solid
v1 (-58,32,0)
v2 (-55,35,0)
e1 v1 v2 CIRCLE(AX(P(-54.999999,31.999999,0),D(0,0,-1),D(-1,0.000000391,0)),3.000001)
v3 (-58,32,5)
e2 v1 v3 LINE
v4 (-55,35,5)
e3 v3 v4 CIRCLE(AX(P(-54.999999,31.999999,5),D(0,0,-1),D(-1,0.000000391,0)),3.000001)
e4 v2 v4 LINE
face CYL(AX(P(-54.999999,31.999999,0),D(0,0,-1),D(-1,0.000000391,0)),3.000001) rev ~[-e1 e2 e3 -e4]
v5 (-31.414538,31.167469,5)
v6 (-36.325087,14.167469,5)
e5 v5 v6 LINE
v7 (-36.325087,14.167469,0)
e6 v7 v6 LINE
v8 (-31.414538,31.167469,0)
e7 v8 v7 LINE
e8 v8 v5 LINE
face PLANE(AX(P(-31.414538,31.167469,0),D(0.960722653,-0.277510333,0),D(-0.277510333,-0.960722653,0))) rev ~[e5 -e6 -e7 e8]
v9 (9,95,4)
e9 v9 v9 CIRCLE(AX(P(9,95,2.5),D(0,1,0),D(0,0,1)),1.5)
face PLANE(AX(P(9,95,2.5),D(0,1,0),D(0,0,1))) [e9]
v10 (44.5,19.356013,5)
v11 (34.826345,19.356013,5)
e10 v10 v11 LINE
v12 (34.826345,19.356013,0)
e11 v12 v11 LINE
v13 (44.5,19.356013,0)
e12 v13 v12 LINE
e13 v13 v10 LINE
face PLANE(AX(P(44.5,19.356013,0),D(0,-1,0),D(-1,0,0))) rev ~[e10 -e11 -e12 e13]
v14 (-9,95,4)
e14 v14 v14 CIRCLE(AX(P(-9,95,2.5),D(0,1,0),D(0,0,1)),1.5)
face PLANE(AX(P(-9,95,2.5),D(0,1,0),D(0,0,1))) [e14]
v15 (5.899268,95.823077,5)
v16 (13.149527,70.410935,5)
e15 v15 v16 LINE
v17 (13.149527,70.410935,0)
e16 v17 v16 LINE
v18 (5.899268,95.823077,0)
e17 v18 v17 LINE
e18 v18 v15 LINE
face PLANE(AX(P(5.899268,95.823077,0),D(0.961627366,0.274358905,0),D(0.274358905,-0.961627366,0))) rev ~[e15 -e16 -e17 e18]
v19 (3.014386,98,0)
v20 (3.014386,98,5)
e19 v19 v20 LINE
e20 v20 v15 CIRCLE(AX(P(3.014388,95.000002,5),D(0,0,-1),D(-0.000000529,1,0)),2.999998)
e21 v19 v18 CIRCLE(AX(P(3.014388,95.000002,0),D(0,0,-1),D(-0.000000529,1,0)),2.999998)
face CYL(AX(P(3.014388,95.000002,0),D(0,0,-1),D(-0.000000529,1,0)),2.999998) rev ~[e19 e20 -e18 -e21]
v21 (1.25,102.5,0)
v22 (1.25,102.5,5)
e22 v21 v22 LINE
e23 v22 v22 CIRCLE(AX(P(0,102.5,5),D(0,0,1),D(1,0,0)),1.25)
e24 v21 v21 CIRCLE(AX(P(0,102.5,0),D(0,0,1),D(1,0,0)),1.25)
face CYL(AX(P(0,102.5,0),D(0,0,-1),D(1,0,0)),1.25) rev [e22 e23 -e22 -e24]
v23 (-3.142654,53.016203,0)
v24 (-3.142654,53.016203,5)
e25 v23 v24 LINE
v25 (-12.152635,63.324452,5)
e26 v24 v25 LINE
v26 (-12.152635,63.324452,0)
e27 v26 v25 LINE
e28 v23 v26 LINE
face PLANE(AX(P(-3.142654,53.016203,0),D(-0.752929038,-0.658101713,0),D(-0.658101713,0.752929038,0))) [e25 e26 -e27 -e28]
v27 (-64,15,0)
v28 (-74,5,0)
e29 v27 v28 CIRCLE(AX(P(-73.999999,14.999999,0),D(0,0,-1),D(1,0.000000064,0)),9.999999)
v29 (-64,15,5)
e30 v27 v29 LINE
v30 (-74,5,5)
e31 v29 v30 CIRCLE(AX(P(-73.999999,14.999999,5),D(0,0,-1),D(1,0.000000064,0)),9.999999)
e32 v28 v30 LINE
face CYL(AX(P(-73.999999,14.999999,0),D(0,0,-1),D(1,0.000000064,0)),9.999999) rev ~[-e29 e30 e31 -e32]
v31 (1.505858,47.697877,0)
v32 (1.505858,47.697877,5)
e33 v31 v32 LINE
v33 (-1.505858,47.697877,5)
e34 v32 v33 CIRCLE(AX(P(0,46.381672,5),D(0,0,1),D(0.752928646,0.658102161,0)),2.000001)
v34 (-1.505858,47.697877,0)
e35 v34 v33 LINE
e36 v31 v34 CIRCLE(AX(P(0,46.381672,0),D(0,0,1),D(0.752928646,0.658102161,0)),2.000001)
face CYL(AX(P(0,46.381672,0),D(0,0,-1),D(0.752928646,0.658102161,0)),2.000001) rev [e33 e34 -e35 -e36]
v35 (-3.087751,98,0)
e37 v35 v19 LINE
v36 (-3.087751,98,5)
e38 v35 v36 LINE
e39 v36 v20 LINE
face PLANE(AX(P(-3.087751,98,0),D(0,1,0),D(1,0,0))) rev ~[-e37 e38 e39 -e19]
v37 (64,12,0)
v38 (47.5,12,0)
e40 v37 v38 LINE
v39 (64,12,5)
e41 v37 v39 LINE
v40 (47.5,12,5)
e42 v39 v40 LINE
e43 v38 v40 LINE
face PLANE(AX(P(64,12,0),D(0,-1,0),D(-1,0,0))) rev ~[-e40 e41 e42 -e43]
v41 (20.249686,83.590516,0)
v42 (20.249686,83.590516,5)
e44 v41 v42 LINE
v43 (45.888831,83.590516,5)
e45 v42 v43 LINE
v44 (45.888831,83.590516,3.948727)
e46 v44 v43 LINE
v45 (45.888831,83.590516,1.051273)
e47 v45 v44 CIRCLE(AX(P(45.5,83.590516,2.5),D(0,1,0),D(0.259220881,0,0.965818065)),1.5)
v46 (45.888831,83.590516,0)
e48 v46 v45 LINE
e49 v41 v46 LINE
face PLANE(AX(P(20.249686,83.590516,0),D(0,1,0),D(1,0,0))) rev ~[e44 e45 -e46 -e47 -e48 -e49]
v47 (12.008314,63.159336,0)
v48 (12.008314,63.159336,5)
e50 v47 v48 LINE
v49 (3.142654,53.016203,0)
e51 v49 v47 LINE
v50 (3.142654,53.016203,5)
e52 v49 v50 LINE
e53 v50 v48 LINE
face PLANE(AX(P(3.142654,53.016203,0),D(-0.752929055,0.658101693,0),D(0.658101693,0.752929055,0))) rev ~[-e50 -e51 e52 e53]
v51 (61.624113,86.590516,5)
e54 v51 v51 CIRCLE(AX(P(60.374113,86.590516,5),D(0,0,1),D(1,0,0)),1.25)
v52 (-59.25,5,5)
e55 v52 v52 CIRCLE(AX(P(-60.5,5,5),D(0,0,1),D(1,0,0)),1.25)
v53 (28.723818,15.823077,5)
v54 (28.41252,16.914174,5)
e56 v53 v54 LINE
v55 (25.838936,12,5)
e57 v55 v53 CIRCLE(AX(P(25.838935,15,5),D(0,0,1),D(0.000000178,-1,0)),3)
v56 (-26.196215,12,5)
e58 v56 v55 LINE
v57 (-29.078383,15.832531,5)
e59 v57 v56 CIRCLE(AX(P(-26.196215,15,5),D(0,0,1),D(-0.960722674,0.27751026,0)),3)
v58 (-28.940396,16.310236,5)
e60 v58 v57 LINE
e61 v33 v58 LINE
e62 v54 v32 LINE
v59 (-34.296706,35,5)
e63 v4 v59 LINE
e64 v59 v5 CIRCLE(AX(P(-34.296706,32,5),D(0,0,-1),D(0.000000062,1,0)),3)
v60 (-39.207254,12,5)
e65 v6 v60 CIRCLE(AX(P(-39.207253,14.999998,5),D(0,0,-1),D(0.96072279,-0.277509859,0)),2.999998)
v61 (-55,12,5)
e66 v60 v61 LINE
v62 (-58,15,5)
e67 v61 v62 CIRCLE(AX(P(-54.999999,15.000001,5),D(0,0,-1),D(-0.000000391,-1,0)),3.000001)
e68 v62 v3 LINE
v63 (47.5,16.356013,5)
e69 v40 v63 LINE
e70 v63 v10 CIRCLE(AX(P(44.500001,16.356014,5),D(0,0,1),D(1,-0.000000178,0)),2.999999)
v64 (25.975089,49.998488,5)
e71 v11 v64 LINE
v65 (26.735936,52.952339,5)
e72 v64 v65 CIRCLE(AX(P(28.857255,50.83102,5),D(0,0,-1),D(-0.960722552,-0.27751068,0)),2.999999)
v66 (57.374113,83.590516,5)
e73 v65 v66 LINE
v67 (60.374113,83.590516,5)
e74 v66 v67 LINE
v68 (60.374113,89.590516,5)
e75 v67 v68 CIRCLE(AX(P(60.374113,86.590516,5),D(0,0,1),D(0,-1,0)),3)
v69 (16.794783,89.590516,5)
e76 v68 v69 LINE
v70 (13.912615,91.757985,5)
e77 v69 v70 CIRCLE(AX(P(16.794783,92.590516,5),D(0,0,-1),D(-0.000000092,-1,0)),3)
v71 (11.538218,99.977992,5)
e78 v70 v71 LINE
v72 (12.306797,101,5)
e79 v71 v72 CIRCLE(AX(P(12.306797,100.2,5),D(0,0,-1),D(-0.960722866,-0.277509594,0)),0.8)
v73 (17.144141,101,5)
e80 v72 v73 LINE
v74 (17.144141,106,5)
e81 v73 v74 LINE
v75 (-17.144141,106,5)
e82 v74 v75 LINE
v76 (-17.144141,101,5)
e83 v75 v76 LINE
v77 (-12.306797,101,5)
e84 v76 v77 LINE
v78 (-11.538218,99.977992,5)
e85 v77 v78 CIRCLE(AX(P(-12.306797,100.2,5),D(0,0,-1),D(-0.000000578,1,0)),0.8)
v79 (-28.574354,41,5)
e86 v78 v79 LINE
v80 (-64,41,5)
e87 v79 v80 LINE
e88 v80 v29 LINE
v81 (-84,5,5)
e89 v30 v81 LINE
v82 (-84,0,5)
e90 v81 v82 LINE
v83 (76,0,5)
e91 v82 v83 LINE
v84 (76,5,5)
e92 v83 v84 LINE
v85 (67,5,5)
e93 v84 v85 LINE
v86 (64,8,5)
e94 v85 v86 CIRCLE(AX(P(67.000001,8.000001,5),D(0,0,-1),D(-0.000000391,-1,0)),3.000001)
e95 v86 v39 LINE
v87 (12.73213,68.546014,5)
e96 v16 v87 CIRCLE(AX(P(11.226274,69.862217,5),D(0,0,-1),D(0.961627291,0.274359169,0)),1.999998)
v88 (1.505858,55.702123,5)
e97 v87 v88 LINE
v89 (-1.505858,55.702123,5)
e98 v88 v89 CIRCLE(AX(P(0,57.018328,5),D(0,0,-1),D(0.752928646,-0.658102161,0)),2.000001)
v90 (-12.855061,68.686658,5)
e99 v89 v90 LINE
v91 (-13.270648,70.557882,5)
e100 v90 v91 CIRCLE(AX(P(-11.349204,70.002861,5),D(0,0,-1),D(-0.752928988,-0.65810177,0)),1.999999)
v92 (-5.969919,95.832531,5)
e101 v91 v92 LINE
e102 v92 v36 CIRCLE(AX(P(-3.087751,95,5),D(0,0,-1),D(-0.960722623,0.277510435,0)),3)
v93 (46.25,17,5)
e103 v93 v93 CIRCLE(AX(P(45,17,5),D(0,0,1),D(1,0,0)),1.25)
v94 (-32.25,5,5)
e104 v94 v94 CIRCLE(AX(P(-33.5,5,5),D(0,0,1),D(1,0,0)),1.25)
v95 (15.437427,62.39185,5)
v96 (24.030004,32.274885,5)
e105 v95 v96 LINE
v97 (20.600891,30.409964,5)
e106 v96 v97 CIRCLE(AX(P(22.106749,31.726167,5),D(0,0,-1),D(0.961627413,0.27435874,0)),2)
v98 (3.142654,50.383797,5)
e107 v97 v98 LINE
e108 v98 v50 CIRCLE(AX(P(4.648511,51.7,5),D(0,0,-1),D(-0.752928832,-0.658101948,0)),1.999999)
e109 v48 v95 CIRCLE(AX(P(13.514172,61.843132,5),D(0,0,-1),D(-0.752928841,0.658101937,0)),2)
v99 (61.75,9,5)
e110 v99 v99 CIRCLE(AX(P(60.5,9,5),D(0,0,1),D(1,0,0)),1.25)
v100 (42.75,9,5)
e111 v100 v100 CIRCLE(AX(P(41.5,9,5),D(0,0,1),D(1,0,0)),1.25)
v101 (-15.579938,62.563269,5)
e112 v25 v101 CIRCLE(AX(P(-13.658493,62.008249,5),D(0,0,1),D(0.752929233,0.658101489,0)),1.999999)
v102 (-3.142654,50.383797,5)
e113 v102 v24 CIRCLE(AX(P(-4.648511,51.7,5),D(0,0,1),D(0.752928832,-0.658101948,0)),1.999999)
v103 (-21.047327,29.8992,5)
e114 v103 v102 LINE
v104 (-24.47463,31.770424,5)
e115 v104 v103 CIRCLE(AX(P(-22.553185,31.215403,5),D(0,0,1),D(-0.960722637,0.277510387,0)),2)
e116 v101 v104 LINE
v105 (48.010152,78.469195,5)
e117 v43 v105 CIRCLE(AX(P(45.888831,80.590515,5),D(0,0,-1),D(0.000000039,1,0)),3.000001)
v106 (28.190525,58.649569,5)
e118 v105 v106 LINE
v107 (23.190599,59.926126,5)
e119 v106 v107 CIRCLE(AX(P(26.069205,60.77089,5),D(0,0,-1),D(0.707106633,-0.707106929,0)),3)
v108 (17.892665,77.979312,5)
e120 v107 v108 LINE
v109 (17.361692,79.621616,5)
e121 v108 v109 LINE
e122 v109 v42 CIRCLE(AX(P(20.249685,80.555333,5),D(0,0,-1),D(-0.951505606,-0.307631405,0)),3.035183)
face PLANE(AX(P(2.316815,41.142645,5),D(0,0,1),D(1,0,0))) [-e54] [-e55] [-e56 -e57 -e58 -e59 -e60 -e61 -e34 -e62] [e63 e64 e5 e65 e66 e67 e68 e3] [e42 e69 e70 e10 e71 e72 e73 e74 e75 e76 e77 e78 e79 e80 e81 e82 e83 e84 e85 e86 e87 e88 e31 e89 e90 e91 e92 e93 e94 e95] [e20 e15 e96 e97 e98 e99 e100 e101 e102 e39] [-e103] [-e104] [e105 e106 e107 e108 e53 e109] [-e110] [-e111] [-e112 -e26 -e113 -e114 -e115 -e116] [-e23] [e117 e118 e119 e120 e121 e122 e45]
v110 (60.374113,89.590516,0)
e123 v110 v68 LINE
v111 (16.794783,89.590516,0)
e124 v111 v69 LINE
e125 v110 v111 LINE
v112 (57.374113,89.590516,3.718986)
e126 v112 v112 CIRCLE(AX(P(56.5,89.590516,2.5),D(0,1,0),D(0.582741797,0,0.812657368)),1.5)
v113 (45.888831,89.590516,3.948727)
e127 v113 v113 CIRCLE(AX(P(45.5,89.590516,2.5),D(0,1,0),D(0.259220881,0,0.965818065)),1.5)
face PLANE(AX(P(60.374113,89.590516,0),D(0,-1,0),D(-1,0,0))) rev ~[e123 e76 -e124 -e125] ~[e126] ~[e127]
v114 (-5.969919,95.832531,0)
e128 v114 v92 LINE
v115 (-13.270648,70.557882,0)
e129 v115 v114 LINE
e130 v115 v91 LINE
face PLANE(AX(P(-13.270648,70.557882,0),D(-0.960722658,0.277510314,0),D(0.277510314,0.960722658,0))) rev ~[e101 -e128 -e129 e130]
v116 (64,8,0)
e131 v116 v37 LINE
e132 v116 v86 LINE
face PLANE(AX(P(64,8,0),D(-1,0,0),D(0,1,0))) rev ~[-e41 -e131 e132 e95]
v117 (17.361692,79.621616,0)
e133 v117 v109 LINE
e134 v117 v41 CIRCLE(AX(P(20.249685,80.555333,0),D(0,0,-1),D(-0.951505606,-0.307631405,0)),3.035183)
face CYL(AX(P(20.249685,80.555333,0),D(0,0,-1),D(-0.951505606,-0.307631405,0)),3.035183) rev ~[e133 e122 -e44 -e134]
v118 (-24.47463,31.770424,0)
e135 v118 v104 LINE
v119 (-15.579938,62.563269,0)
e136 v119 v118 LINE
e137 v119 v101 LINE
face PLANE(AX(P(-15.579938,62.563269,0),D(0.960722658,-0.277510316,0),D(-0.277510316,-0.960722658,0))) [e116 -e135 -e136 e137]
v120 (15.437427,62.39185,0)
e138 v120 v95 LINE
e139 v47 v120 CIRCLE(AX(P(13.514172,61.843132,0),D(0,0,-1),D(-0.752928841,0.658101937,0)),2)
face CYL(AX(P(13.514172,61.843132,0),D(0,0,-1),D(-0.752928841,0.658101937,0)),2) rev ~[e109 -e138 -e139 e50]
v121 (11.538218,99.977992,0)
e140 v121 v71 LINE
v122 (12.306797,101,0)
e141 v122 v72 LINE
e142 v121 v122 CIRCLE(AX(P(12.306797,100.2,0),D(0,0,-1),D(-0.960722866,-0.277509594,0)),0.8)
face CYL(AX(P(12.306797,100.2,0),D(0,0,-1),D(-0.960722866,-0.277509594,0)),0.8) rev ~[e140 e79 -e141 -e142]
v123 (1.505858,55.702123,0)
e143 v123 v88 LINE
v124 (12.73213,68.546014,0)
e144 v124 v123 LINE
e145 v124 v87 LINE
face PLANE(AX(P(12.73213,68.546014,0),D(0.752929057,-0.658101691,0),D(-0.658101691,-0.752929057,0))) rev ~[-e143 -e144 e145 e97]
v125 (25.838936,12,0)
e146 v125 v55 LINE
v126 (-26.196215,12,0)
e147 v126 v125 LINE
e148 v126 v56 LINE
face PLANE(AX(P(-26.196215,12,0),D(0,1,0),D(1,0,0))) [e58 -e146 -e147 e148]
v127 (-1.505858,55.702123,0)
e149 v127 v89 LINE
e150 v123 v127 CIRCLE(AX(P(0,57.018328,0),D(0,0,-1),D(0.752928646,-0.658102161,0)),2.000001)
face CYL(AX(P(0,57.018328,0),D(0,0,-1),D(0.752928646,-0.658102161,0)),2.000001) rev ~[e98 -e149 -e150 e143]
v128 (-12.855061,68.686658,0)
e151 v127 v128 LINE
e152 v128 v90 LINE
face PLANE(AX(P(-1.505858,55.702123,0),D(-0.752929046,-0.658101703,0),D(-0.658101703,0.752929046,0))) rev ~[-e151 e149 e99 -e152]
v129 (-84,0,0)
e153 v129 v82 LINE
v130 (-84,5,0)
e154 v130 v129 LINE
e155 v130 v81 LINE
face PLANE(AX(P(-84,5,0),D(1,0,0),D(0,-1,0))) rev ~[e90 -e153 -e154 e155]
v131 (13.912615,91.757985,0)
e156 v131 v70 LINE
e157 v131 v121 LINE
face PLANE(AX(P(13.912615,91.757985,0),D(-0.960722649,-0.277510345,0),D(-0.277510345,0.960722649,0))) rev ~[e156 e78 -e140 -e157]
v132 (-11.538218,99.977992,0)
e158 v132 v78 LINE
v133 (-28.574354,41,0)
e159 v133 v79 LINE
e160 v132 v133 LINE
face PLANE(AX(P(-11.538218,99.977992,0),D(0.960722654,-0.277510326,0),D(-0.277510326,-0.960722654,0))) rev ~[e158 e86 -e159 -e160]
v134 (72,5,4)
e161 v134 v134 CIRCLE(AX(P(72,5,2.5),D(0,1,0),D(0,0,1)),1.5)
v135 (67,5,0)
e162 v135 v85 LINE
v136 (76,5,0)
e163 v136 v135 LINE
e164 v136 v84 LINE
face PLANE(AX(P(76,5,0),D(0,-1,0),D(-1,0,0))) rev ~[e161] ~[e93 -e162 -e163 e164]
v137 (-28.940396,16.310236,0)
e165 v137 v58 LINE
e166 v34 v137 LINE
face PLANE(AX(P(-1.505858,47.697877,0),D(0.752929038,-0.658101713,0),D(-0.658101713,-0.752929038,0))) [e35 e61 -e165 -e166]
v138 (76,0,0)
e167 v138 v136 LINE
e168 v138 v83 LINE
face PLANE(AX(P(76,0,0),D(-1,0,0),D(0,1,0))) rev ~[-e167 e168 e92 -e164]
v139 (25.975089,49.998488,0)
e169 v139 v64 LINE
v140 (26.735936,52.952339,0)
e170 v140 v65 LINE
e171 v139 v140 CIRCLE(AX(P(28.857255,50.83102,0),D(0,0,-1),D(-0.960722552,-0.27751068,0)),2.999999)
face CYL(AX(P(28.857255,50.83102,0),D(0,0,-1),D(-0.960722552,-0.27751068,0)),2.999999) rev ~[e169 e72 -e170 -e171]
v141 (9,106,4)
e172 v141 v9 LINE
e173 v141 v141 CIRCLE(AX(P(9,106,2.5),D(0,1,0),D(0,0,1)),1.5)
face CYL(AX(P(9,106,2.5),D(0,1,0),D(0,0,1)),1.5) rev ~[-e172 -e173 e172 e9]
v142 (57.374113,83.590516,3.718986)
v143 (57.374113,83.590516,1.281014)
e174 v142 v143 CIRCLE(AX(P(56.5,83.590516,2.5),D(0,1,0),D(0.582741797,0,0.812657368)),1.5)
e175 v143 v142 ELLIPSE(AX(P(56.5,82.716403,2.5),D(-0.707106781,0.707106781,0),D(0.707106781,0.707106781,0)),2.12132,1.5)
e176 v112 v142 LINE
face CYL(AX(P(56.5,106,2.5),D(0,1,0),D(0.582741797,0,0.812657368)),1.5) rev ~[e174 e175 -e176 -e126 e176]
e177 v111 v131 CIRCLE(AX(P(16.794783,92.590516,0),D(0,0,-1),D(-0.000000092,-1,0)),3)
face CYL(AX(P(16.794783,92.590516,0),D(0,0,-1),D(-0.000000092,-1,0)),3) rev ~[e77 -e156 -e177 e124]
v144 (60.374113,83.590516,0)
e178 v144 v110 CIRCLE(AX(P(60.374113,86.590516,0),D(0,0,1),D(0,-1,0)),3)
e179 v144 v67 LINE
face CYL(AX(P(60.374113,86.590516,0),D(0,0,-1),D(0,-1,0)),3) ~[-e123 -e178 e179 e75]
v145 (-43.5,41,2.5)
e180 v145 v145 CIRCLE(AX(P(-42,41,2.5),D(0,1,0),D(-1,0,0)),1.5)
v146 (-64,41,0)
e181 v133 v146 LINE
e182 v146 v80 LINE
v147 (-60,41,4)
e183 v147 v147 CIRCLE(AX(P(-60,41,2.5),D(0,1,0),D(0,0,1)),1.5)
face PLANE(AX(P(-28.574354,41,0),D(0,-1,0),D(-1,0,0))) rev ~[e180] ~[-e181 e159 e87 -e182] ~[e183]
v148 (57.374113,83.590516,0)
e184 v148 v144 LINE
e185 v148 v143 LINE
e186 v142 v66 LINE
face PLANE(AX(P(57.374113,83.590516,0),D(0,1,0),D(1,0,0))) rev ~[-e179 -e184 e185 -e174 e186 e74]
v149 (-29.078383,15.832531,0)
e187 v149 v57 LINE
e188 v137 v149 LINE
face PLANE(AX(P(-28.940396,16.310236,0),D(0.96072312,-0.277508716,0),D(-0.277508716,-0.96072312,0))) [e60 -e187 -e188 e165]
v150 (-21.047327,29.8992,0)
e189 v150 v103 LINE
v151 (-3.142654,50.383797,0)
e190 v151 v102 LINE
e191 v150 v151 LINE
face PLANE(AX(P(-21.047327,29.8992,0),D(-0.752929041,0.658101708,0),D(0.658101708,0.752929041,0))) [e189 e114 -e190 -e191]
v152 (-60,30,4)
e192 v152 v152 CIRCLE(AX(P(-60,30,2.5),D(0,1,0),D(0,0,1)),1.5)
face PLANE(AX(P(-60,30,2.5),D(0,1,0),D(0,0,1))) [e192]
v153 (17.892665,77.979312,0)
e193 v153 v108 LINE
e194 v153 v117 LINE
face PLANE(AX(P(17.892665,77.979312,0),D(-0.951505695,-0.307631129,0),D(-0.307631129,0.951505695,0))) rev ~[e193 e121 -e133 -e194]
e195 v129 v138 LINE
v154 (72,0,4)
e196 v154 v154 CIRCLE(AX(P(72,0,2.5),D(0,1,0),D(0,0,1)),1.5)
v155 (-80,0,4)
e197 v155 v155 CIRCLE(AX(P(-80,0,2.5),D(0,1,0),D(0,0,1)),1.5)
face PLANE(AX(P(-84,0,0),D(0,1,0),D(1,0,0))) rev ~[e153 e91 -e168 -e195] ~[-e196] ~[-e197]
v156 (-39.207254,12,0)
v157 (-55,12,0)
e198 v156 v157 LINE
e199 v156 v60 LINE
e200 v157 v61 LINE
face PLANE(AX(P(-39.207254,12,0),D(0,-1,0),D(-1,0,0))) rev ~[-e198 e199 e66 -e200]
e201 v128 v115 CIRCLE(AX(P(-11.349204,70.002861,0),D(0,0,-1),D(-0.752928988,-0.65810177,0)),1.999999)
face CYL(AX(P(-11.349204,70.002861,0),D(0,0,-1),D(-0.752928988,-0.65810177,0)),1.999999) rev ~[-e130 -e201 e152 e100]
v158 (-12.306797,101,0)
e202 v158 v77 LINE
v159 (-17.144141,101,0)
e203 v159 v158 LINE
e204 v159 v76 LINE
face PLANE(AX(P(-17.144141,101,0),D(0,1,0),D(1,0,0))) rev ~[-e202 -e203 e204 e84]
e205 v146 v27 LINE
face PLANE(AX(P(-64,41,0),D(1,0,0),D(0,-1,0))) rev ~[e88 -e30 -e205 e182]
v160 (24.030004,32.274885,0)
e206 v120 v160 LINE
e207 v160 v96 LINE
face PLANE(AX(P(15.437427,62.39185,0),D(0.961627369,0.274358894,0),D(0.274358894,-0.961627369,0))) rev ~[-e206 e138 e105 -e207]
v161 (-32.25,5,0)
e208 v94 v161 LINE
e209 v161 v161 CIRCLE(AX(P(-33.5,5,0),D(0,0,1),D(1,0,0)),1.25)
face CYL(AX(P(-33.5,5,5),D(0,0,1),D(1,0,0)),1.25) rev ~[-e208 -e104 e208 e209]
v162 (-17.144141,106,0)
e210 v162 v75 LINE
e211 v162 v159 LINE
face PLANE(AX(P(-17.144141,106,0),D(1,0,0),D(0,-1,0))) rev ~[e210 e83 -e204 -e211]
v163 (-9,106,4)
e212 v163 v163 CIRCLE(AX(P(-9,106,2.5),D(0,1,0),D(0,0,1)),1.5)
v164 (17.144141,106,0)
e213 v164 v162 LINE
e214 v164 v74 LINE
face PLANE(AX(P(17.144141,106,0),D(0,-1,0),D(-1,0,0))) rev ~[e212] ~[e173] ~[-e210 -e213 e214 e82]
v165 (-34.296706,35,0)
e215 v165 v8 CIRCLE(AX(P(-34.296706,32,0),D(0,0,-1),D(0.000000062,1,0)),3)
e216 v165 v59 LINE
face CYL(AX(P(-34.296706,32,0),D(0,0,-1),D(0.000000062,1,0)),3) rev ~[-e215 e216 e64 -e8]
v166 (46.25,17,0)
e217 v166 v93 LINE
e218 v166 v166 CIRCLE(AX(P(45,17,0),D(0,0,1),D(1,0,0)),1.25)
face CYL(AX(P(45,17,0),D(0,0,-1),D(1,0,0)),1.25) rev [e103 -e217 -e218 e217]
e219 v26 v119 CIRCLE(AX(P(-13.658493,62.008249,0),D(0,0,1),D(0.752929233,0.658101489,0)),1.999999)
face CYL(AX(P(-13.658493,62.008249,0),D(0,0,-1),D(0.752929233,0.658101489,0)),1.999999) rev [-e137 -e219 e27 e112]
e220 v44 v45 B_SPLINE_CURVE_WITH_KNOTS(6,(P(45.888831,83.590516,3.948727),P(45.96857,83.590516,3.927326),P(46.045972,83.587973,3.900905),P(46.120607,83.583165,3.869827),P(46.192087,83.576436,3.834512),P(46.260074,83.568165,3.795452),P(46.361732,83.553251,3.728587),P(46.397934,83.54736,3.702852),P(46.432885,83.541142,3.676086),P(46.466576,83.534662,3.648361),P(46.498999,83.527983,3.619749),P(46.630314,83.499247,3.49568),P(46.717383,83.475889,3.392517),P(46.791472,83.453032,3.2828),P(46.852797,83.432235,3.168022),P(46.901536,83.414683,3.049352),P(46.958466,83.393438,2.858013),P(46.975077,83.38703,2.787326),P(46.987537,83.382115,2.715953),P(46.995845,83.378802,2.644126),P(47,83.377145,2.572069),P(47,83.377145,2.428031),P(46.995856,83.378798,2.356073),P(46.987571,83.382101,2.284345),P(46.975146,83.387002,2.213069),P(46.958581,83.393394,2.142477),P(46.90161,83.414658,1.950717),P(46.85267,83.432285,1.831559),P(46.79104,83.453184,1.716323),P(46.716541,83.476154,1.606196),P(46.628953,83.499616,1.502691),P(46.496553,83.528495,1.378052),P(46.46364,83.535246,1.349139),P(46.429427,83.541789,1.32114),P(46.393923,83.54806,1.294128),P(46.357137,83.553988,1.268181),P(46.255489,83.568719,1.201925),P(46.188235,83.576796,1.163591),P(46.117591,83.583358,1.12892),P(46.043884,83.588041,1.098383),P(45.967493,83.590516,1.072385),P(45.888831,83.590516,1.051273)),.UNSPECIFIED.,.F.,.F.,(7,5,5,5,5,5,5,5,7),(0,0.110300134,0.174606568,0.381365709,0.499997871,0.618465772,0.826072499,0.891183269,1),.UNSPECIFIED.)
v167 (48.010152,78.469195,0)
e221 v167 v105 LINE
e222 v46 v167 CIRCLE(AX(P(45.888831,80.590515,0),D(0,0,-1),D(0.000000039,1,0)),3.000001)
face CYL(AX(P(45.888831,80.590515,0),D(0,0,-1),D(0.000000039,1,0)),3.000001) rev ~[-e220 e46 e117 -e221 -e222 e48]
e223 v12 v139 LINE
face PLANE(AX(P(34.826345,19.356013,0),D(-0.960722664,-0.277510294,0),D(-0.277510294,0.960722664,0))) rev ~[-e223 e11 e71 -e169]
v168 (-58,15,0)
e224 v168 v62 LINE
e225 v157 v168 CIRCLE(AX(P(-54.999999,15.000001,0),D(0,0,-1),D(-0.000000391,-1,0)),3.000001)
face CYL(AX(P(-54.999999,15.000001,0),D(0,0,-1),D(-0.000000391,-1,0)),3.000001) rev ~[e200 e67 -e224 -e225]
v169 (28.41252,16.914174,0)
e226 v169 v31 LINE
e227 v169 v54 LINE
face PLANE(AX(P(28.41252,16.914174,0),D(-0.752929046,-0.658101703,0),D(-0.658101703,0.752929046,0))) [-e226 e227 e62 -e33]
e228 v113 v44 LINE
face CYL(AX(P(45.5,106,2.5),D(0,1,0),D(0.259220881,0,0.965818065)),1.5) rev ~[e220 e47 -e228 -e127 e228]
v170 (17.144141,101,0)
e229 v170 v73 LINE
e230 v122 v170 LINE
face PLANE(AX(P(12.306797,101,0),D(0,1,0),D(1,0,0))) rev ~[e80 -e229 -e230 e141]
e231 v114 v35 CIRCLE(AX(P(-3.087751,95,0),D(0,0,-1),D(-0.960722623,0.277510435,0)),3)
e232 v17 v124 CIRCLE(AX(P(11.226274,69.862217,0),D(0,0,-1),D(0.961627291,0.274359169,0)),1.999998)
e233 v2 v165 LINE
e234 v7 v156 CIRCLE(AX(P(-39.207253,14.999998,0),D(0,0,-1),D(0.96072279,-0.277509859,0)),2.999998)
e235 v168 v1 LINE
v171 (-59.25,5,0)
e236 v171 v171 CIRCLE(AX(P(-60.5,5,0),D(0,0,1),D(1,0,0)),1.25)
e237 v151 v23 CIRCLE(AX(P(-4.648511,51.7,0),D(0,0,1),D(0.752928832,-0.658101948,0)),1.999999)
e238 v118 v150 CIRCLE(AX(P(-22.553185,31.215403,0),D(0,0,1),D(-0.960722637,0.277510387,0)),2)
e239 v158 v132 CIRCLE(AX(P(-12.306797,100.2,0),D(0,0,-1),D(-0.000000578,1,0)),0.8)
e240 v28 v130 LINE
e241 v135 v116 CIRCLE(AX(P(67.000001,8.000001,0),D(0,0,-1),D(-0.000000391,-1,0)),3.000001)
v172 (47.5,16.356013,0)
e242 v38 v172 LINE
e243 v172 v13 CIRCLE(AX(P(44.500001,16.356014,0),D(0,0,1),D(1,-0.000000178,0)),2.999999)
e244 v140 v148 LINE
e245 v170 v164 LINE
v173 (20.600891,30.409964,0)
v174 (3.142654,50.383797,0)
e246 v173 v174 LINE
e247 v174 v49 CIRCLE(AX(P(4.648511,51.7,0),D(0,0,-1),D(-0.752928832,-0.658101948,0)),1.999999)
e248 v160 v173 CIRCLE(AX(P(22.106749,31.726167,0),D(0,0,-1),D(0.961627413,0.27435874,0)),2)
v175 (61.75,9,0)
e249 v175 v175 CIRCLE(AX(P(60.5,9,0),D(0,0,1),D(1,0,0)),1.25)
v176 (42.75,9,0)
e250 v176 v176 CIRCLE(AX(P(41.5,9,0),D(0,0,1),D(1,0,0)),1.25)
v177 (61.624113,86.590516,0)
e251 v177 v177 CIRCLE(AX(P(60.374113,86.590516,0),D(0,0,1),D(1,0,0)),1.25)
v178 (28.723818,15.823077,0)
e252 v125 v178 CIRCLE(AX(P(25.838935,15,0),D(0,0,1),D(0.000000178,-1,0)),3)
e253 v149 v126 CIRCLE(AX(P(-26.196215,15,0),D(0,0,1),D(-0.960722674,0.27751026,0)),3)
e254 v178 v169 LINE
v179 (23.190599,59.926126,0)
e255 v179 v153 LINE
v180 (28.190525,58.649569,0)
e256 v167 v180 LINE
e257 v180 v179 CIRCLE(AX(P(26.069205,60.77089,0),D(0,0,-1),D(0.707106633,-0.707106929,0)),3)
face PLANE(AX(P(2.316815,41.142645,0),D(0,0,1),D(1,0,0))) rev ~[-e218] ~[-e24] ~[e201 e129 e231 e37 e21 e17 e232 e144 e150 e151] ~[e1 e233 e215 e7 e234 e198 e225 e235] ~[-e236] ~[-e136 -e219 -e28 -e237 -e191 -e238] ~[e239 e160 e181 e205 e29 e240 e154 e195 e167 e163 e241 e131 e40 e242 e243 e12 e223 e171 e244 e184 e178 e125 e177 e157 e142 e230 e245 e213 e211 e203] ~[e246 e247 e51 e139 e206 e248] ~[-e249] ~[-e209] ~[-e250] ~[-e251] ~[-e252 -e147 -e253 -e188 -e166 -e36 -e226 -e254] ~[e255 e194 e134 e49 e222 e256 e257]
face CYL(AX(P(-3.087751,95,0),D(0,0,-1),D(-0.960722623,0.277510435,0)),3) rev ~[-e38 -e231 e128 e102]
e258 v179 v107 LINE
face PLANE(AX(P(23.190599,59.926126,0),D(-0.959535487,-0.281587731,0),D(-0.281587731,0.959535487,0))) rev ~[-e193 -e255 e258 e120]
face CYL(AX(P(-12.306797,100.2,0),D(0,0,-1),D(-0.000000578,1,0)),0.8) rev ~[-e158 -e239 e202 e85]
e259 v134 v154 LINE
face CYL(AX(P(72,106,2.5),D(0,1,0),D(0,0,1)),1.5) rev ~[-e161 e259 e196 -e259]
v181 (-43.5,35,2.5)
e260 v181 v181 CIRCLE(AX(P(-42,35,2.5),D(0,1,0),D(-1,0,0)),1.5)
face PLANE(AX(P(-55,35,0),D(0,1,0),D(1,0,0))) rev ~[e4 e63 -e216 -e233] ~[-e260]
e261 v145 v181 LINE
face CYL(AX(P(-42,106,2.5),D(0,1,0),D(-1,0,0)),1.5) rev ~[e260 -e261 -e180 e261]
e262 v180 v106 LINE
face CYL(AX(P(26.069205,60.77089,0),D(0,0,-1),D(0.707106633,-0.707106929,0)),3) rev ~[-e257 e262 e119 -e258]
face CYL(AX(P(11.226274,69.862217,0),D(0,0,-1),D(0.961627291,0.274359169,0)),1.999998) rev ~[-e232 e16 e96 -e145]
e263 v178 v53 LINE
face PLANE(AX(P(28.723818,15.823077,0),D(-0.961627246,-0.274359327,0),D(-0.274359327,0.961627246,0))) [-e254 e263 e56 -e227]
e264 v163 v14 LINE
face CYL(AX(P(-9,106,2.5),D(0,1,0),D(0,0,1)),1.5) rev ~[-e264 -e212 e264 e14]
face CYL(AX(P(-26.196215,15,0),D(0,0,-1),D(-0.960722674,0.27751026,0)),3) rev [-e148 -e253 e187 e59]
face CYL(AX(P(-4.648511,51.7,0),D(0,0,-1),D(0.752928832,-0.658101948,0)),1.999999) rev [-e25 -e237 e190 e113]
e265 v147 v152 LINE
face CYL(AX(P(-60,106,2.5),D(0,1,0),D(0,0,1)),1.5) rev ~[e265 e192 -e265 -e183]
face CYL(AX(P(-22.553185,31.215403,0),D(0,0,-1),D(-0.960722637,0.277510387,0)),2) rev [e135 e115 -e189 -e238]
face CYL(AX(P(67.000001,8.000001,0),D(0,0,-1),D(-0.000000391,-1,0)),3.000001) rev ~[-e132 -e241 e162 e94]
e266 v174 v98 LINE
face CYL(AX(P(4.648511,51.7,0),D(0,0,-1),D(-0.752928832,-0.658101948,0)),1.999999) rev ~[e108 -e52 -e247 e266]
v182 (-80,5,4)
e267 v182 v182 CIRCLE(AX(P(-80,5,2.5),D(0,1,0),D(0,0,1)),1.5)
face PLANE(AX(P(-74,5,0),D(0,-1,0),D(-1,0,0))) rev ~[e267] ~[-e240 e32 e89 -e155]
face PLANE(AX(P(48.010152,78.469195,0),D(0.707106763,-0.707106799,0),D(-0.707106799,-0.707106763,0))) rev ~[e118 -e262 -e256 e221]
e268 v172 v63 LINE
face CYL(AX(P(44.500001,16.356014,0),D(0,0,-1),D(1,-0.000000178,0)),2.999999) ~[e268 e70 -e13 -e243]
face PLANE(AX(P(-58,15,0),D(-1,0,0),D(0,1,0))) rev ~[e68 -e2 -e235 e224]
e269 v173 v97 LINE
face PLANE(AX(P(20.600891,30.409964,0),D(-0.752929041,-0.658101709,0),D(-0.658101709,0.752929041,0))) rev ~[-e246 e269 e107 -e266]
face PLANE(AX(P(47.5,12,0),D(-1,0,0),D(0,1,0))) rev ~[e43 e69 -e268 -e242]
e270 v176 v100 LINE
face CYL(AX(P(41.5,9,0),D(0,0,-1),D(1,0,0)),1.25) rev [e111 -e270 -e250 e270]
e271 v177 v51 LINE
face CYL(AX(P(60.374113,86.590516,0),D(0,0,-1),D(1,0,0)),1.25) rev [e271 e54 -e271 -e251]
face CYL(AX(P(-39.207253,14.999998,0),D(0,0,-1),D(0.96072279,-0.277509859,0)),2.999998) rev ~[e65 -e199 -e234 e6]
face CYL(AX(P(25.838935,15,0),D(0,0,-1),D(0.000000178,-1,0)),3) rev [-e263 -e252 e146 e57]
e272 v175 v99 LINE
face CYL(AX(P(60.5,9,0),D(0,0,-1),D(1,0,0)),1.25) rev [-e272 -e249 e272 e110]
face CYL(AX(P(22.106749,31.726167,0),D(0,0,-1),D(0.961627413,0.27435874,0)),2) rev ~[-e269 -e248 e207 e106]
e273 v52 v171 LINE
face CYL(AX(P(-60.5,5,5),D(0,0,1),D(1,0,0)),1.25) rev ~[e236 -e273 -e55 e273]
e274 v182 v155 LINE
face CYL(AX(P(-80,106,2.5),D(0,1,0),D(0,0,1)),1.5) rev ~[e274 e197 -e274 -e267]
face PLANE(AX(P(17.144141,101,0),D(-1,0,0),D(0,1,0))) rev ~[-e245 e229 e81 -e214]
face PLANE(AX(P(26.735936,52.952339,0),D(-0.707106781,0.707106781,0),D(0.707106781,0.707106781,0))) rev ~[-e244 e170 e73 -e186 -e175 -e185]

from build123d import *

# Parameters (mm, degrees)
SKETCH1_R           = 1.25
BOSS_EXTRUDE1_DEPTH = 5
SKETCH2_R           = 1.25
CUT_EXTRUDE1_DEPTH  = 15
SKETCH3_R           = 1.5
CUT_EXTRUDE2_DEPTH  = 115
SKETCH4_R           = 1.5
CUT_EXTRUDE3_DEPTH  = 25
SKETCH5_R           = 1.5
CUT_EXTRUDE4_DEPTH  = 115
SKETCH6_R           = 1.5
CUT_EXTRUDE5_DEPTH  = 76
SKETCH8_R           = 1.5
CUT_EXTRUDE6_DEPTH  = 11


with BuildPart() as part:
    # Sketch1 → Boss-Extrude1 (new body)
    with BuildSketch(Plane.XY):
        with BuildLine():
            Line((-84, 0), (0, 0))
            Line((0, 0), (76, 0))
            Line((76, 0), (76, 5))
            Line((76, 5), (67, 5))
            ThreePointArc((67, 5), (64.87868, 5.87868), (64, 8))
            Line((64, 8), (64, 12))
            Line((64, 12), (47.5, 12))
            Line((47.5, 12), (47.5, 16.356013))
            ThreePointArc((47.5, 16.356013), (46.62132, 18.477334), (44.5, 19.356013))
            Line((44.5, 19.356013), (42.584405, 19.356013))
            Line((42.584405, 19.356013), (34.826345, 19.356013))
            Line((34.826345, 19.356013), (25.975089, 49.998488))
            ThreePointArc((25.975089, 49.998488), (25.952083, 51.579328), (26.735936, 52.952339))
            Line((26.735936, 52.952339), (57.374113, 83.590516))
            Line((57.374113, 83.590516), (60.374113, 83.590516))
            ThreePointArc((60.374113, 83.590516), (63.374113, 86.590516), (60.374113, 89.590516))
            Line((60.374113, 89.590516), (16.794783, 89.590516))
            ThreePointArc((16.794783, 89.590516), (14.991674, 90.192851), (13.912615, 91.757985))
            Line((13.912615, 91.757985), (11.538218, 99.977992))
            ThreePointArc((11.538218, 99.977992), (11.667419, 100.680829), (12.306797, 101))
            Line((12.306797, 101), (17.144141, 101))
            Line((17.144141, 101), (17.144141, 106))
            Line((17.144141, 106), (-17.144141, 106))
            Line((-17.144141, 106), (-17.144141, 101))
            Line((-17.144141, 101), (-12.306797, 101))
            ThreePointArc((-12.306797, 101), (-11.667419, 100.680829), (-11.538218, 99.977992))
            Line((-11.538218, 99.977992), (-28.574354, 41))
            Line((-28.574354, 41), (-64, 41))
            Line((-64, 41), (-64, 15))
            ThreePointArc((-64, 15), (-66.928932, 7.928932), (-74, 5))
            Line((-74, 5), (-84, 5))
            Line((-84, 5), (-84, 0))
        make_face()
        with Locations((0, 102.5)):
            Circle(SKETCH1_R, mode=Mode.SUBTRACT)
        with Locations((45, 17)):
            Circle(SKETCH1_R, mode=Mode.SUBTRACT)
        with Locations((41.5, 9)):
            Circle(SKETCH1_R, mode=Mode.SUBTRACT)
        with Locations((60.5, 9)):
            Circle(SKETCH1_R, mode=Mode.SUBTRACT)
        with Locations((60.374113, 86.590516)):
            Circle(SKETCH1_R, mode=Mode.SUBTRACT)
        with BuildLine():
            Line((-55, 35), (-34.296706, 35))
            ThreePointArc((-34.296706, 35), (-31.899041, 33.803109), (-31.414538, 31.167469))
            Line((-31.414538, 31.167469), (-36.325087, 14.167469))
            ThreePointArc((-36.325087, 14.167469), (-37.404145, 12.602335), (-39.207254, 12))
            Line((-39.207254, 12), (-55, 12))
            ThreePointArc((-55, 12), (-57.12132, 12.87868), (-58, 15))
            Line((-58, 15), (-58, 32))
            ThreePointArc((-58, 32), (-57.12132, 34.12132), (-55, 35))
        make_face(mode=Mode.SUBTRACT)
        with BuildLine():
            Line((-26.196215, 12), (25.838936, 12))
            ThreePointArc((25.838936, 12), (28.233641, 13.192962), (28.723818, 15.823077))
            Line((28.723818, 15.823077), (28.41252, 16.914174))
            Line((28.41252, 16.914174), (1.505858, 47.697877))
            ThreePointArc((1.505858, 47.697877), (0, 48.381673), (-1.505858, 47.697877))
            Line((-1.505858, 47.697877), (-28.940396, 16.310236))
            Line((-28.940396, 16.310236), (-29.078383, 15.832531))
            ThreePointArc((-29.078383, 15.832531), (-28.59388, 13.196891), (-26.196215, 12))
        make_face(mode=Mode.SUBTRACT)
        with BuildLine():
            Line((15.437427, 62.39185), (24.030004, 32.274885))
            ThreePointArc((24.030004, 32.274885), (23.062279, 29.969192), (20.600891, 30.409964))
            Line((20.600891, 30.409964), (3.142654, 50.383797))
            ThreePointArc((3.142654, 50.383797), (2.648512, 51.7), (3.142654, 53.016203))
            Line((3.142654, 53.016203), (12.008314, 63.159336))
            ThreePointArc((12.008314, 63.159336), (13.950994, 63.794846), (15.437427, 62.39185))
        make_face(mode=Mode.SUBTRACT)
        with BuildLine():
            Line((-3.142654, 53.016203), (-12.152635, 63.324452))
            ThreePointArc((-12.152635, 63.324452), (-14.092115, 63.960676), (-15.579938, 62.563269))
            Line((-15.579938, 62.563269), (-24.47463, 31.770424))
            ThreePointArc((-24.47463, 31.770424), (-23.511594, 29.459997), (-21.047327, 29.8992))
            Line((-21.047327, 29.8992), (-3.142654, 50.383797))
            ThreePointArc((-3.142654, 50.383797), (-2.648512, 51.7), (-3.142654, 53.016203))
        make_face(mode=Mode.SUBTRACT)
        with BuildLine():
            Line((-13.270648, 70.557882), (-5.969919, 95.832531))
            ThreePointArc((-5.969919, 95.832531), (-4.89086, 97.397665), (-3.087751, 98))
            Line((-3.087751, 98), (3.014386, 98))
            ThreePointArc((3.014386, 98), (4.821424, 97.394706), (5.899268, 95.823077))
            Line((5.899268, 95.823077), (13.149527, 70.410935))
            ThreePointArc((13.149527, 70.410935), (13.177986, 69.425395), (12.73213, 68.546014))
            Line((12.73213, 68.546014), (1.505858, 55.702123))
            ThreePointArc((1.505858, 55.702123), (0, 55.018327), (-1.505858, 55.702123))
            Line((-1.505858, 55.702123), (-12.855061, 68.686658))
            ThreePointArc((-12.855061, 68.686658), (-13.30163, 69.569239), (-13.270648, 70.557882))
        make_face(mode=Mode.SUBTRACT)
        with BuildLine():
            Line((17.892665, 77.979312), (17.361692, 79.621616))
            ThreePointArc((17.361692, 79.621616), (17.795471, 82.341157), (20.249686, 83.590516))
            Line((20.249686, 83.590516), (45.888831, 83.590516))
            ThreePointArc((45.888831, 83.590516), (48.66047, 81.738566), (48.010152, 78.469195))
            Line((48.010152, 78.469195), (28.190525, 58.649569))
            ThreePointArc((28.190525, 58.649569), (25.327066, 57.864134), (23.190599, 59.926126))
            Line((23.190599, 59.926126), (17.892665, 77.979312))
        make_face(mode=Mode.SUBTRACT)
    extrude(amount=BOSS_EXTRUDE1_DEPTH)

    # Sketch2 → Cut-Extrude1 (cut)
    with BuildSketch(Plane.XY.offset(5)):
        with Locations((-33.5, 5)):
            Circle(SKETCH2_R)
        with Locations((-60.5, 5)):
            Circle(SKETCH2_R)
    extrude(amount=-CUT_EXTRUDE1_DEPTH, mode=Mode.SUBTRACT)

    # Sketch3 → Cut-Extrude2 (cut)
    with BuildSketch(Plane(origin=(0, 106, 0), x_dir=(1, 0, 0), z_dir=(0, 1, 0))):
        with Locations(Location((-80, -2.5, 0), (0, 0, 270))):
            Circle(SKETCH3_R)
    extrude(amount=-CUT_EXTRUDE2_DEPTH, mode=Mode.SUBTRACT)

    # Sketch4 → Cut-Extrude3 (cut)
    with BuildSketch(Plane(origin=(0, 106, 0), x_dir=(1, 0, 0), z_dir=(0, 1, 0))):
        with Locations(Location((45.5, -2.5, 0), (0, 0, 285.023837))):
            Circle(SKETCH4_R)
        with Locations(Location((56.5, -2.5, 0), (0, 0, 305.643618))):
            Circle(SKETCH4_R)
    extrude(amount=-CUT_EXTRUDE3_DEPTH, mode=Mode.SUBTRACT)

    # Sketch5 → Cut-Extrude4 (cut)
    with BuildSketch(Plane(origin=(0, 106, 0), x_dir=(1, 0, 0), z_dir=(0, 1, 0))):
        with Locations(Location((72, -2.5, 0), (0, 0, 270))):
            Circle(SKETCH5_R)
    extrude(amount=-CUT_EXTRUDE4_DEPTH, mode=Mode.SUBTRACT)

    # Sketch6 → Cut-Extrude5 (cut)
    with BuildSketch(Plane(origin=(0, 106, 0), x_dir=(1, 0, 0), z_dir=(0, 1, 0))):
        with Locations(Location((-42, -2.5, 0), (0, 0, 180))):
            Circle(SKETCH6_R)
        with Locations(Location((-60, -2.5, 0), (0, 0, 270))):
            Circle(SKETCH6_R)
    extrude(amount=-CUT_EXTRUDE5_DEPTH, mode=Mode.SUBTRACT)

    # Sketch8 → Cut-Extrude6 (cut)
    with BuildSketch(Plane(origin=(0, 106, 0), x_dir=(1, 0, 0), z_dir=(0, 1, 0))):
        with Locations(Location((-9, -2.5, 0), (0, 0, 270))):
            Circle(SKETCH8_R)
        with Locations(Location((9, -2.5, 0), (0, 0, 270))):
            Circle(SKETCH8_R)
    extrude(amount=-CUT_EXTRUDE6_DEPTH, mode=Mode.SUBTRACT)


solid = part.part
